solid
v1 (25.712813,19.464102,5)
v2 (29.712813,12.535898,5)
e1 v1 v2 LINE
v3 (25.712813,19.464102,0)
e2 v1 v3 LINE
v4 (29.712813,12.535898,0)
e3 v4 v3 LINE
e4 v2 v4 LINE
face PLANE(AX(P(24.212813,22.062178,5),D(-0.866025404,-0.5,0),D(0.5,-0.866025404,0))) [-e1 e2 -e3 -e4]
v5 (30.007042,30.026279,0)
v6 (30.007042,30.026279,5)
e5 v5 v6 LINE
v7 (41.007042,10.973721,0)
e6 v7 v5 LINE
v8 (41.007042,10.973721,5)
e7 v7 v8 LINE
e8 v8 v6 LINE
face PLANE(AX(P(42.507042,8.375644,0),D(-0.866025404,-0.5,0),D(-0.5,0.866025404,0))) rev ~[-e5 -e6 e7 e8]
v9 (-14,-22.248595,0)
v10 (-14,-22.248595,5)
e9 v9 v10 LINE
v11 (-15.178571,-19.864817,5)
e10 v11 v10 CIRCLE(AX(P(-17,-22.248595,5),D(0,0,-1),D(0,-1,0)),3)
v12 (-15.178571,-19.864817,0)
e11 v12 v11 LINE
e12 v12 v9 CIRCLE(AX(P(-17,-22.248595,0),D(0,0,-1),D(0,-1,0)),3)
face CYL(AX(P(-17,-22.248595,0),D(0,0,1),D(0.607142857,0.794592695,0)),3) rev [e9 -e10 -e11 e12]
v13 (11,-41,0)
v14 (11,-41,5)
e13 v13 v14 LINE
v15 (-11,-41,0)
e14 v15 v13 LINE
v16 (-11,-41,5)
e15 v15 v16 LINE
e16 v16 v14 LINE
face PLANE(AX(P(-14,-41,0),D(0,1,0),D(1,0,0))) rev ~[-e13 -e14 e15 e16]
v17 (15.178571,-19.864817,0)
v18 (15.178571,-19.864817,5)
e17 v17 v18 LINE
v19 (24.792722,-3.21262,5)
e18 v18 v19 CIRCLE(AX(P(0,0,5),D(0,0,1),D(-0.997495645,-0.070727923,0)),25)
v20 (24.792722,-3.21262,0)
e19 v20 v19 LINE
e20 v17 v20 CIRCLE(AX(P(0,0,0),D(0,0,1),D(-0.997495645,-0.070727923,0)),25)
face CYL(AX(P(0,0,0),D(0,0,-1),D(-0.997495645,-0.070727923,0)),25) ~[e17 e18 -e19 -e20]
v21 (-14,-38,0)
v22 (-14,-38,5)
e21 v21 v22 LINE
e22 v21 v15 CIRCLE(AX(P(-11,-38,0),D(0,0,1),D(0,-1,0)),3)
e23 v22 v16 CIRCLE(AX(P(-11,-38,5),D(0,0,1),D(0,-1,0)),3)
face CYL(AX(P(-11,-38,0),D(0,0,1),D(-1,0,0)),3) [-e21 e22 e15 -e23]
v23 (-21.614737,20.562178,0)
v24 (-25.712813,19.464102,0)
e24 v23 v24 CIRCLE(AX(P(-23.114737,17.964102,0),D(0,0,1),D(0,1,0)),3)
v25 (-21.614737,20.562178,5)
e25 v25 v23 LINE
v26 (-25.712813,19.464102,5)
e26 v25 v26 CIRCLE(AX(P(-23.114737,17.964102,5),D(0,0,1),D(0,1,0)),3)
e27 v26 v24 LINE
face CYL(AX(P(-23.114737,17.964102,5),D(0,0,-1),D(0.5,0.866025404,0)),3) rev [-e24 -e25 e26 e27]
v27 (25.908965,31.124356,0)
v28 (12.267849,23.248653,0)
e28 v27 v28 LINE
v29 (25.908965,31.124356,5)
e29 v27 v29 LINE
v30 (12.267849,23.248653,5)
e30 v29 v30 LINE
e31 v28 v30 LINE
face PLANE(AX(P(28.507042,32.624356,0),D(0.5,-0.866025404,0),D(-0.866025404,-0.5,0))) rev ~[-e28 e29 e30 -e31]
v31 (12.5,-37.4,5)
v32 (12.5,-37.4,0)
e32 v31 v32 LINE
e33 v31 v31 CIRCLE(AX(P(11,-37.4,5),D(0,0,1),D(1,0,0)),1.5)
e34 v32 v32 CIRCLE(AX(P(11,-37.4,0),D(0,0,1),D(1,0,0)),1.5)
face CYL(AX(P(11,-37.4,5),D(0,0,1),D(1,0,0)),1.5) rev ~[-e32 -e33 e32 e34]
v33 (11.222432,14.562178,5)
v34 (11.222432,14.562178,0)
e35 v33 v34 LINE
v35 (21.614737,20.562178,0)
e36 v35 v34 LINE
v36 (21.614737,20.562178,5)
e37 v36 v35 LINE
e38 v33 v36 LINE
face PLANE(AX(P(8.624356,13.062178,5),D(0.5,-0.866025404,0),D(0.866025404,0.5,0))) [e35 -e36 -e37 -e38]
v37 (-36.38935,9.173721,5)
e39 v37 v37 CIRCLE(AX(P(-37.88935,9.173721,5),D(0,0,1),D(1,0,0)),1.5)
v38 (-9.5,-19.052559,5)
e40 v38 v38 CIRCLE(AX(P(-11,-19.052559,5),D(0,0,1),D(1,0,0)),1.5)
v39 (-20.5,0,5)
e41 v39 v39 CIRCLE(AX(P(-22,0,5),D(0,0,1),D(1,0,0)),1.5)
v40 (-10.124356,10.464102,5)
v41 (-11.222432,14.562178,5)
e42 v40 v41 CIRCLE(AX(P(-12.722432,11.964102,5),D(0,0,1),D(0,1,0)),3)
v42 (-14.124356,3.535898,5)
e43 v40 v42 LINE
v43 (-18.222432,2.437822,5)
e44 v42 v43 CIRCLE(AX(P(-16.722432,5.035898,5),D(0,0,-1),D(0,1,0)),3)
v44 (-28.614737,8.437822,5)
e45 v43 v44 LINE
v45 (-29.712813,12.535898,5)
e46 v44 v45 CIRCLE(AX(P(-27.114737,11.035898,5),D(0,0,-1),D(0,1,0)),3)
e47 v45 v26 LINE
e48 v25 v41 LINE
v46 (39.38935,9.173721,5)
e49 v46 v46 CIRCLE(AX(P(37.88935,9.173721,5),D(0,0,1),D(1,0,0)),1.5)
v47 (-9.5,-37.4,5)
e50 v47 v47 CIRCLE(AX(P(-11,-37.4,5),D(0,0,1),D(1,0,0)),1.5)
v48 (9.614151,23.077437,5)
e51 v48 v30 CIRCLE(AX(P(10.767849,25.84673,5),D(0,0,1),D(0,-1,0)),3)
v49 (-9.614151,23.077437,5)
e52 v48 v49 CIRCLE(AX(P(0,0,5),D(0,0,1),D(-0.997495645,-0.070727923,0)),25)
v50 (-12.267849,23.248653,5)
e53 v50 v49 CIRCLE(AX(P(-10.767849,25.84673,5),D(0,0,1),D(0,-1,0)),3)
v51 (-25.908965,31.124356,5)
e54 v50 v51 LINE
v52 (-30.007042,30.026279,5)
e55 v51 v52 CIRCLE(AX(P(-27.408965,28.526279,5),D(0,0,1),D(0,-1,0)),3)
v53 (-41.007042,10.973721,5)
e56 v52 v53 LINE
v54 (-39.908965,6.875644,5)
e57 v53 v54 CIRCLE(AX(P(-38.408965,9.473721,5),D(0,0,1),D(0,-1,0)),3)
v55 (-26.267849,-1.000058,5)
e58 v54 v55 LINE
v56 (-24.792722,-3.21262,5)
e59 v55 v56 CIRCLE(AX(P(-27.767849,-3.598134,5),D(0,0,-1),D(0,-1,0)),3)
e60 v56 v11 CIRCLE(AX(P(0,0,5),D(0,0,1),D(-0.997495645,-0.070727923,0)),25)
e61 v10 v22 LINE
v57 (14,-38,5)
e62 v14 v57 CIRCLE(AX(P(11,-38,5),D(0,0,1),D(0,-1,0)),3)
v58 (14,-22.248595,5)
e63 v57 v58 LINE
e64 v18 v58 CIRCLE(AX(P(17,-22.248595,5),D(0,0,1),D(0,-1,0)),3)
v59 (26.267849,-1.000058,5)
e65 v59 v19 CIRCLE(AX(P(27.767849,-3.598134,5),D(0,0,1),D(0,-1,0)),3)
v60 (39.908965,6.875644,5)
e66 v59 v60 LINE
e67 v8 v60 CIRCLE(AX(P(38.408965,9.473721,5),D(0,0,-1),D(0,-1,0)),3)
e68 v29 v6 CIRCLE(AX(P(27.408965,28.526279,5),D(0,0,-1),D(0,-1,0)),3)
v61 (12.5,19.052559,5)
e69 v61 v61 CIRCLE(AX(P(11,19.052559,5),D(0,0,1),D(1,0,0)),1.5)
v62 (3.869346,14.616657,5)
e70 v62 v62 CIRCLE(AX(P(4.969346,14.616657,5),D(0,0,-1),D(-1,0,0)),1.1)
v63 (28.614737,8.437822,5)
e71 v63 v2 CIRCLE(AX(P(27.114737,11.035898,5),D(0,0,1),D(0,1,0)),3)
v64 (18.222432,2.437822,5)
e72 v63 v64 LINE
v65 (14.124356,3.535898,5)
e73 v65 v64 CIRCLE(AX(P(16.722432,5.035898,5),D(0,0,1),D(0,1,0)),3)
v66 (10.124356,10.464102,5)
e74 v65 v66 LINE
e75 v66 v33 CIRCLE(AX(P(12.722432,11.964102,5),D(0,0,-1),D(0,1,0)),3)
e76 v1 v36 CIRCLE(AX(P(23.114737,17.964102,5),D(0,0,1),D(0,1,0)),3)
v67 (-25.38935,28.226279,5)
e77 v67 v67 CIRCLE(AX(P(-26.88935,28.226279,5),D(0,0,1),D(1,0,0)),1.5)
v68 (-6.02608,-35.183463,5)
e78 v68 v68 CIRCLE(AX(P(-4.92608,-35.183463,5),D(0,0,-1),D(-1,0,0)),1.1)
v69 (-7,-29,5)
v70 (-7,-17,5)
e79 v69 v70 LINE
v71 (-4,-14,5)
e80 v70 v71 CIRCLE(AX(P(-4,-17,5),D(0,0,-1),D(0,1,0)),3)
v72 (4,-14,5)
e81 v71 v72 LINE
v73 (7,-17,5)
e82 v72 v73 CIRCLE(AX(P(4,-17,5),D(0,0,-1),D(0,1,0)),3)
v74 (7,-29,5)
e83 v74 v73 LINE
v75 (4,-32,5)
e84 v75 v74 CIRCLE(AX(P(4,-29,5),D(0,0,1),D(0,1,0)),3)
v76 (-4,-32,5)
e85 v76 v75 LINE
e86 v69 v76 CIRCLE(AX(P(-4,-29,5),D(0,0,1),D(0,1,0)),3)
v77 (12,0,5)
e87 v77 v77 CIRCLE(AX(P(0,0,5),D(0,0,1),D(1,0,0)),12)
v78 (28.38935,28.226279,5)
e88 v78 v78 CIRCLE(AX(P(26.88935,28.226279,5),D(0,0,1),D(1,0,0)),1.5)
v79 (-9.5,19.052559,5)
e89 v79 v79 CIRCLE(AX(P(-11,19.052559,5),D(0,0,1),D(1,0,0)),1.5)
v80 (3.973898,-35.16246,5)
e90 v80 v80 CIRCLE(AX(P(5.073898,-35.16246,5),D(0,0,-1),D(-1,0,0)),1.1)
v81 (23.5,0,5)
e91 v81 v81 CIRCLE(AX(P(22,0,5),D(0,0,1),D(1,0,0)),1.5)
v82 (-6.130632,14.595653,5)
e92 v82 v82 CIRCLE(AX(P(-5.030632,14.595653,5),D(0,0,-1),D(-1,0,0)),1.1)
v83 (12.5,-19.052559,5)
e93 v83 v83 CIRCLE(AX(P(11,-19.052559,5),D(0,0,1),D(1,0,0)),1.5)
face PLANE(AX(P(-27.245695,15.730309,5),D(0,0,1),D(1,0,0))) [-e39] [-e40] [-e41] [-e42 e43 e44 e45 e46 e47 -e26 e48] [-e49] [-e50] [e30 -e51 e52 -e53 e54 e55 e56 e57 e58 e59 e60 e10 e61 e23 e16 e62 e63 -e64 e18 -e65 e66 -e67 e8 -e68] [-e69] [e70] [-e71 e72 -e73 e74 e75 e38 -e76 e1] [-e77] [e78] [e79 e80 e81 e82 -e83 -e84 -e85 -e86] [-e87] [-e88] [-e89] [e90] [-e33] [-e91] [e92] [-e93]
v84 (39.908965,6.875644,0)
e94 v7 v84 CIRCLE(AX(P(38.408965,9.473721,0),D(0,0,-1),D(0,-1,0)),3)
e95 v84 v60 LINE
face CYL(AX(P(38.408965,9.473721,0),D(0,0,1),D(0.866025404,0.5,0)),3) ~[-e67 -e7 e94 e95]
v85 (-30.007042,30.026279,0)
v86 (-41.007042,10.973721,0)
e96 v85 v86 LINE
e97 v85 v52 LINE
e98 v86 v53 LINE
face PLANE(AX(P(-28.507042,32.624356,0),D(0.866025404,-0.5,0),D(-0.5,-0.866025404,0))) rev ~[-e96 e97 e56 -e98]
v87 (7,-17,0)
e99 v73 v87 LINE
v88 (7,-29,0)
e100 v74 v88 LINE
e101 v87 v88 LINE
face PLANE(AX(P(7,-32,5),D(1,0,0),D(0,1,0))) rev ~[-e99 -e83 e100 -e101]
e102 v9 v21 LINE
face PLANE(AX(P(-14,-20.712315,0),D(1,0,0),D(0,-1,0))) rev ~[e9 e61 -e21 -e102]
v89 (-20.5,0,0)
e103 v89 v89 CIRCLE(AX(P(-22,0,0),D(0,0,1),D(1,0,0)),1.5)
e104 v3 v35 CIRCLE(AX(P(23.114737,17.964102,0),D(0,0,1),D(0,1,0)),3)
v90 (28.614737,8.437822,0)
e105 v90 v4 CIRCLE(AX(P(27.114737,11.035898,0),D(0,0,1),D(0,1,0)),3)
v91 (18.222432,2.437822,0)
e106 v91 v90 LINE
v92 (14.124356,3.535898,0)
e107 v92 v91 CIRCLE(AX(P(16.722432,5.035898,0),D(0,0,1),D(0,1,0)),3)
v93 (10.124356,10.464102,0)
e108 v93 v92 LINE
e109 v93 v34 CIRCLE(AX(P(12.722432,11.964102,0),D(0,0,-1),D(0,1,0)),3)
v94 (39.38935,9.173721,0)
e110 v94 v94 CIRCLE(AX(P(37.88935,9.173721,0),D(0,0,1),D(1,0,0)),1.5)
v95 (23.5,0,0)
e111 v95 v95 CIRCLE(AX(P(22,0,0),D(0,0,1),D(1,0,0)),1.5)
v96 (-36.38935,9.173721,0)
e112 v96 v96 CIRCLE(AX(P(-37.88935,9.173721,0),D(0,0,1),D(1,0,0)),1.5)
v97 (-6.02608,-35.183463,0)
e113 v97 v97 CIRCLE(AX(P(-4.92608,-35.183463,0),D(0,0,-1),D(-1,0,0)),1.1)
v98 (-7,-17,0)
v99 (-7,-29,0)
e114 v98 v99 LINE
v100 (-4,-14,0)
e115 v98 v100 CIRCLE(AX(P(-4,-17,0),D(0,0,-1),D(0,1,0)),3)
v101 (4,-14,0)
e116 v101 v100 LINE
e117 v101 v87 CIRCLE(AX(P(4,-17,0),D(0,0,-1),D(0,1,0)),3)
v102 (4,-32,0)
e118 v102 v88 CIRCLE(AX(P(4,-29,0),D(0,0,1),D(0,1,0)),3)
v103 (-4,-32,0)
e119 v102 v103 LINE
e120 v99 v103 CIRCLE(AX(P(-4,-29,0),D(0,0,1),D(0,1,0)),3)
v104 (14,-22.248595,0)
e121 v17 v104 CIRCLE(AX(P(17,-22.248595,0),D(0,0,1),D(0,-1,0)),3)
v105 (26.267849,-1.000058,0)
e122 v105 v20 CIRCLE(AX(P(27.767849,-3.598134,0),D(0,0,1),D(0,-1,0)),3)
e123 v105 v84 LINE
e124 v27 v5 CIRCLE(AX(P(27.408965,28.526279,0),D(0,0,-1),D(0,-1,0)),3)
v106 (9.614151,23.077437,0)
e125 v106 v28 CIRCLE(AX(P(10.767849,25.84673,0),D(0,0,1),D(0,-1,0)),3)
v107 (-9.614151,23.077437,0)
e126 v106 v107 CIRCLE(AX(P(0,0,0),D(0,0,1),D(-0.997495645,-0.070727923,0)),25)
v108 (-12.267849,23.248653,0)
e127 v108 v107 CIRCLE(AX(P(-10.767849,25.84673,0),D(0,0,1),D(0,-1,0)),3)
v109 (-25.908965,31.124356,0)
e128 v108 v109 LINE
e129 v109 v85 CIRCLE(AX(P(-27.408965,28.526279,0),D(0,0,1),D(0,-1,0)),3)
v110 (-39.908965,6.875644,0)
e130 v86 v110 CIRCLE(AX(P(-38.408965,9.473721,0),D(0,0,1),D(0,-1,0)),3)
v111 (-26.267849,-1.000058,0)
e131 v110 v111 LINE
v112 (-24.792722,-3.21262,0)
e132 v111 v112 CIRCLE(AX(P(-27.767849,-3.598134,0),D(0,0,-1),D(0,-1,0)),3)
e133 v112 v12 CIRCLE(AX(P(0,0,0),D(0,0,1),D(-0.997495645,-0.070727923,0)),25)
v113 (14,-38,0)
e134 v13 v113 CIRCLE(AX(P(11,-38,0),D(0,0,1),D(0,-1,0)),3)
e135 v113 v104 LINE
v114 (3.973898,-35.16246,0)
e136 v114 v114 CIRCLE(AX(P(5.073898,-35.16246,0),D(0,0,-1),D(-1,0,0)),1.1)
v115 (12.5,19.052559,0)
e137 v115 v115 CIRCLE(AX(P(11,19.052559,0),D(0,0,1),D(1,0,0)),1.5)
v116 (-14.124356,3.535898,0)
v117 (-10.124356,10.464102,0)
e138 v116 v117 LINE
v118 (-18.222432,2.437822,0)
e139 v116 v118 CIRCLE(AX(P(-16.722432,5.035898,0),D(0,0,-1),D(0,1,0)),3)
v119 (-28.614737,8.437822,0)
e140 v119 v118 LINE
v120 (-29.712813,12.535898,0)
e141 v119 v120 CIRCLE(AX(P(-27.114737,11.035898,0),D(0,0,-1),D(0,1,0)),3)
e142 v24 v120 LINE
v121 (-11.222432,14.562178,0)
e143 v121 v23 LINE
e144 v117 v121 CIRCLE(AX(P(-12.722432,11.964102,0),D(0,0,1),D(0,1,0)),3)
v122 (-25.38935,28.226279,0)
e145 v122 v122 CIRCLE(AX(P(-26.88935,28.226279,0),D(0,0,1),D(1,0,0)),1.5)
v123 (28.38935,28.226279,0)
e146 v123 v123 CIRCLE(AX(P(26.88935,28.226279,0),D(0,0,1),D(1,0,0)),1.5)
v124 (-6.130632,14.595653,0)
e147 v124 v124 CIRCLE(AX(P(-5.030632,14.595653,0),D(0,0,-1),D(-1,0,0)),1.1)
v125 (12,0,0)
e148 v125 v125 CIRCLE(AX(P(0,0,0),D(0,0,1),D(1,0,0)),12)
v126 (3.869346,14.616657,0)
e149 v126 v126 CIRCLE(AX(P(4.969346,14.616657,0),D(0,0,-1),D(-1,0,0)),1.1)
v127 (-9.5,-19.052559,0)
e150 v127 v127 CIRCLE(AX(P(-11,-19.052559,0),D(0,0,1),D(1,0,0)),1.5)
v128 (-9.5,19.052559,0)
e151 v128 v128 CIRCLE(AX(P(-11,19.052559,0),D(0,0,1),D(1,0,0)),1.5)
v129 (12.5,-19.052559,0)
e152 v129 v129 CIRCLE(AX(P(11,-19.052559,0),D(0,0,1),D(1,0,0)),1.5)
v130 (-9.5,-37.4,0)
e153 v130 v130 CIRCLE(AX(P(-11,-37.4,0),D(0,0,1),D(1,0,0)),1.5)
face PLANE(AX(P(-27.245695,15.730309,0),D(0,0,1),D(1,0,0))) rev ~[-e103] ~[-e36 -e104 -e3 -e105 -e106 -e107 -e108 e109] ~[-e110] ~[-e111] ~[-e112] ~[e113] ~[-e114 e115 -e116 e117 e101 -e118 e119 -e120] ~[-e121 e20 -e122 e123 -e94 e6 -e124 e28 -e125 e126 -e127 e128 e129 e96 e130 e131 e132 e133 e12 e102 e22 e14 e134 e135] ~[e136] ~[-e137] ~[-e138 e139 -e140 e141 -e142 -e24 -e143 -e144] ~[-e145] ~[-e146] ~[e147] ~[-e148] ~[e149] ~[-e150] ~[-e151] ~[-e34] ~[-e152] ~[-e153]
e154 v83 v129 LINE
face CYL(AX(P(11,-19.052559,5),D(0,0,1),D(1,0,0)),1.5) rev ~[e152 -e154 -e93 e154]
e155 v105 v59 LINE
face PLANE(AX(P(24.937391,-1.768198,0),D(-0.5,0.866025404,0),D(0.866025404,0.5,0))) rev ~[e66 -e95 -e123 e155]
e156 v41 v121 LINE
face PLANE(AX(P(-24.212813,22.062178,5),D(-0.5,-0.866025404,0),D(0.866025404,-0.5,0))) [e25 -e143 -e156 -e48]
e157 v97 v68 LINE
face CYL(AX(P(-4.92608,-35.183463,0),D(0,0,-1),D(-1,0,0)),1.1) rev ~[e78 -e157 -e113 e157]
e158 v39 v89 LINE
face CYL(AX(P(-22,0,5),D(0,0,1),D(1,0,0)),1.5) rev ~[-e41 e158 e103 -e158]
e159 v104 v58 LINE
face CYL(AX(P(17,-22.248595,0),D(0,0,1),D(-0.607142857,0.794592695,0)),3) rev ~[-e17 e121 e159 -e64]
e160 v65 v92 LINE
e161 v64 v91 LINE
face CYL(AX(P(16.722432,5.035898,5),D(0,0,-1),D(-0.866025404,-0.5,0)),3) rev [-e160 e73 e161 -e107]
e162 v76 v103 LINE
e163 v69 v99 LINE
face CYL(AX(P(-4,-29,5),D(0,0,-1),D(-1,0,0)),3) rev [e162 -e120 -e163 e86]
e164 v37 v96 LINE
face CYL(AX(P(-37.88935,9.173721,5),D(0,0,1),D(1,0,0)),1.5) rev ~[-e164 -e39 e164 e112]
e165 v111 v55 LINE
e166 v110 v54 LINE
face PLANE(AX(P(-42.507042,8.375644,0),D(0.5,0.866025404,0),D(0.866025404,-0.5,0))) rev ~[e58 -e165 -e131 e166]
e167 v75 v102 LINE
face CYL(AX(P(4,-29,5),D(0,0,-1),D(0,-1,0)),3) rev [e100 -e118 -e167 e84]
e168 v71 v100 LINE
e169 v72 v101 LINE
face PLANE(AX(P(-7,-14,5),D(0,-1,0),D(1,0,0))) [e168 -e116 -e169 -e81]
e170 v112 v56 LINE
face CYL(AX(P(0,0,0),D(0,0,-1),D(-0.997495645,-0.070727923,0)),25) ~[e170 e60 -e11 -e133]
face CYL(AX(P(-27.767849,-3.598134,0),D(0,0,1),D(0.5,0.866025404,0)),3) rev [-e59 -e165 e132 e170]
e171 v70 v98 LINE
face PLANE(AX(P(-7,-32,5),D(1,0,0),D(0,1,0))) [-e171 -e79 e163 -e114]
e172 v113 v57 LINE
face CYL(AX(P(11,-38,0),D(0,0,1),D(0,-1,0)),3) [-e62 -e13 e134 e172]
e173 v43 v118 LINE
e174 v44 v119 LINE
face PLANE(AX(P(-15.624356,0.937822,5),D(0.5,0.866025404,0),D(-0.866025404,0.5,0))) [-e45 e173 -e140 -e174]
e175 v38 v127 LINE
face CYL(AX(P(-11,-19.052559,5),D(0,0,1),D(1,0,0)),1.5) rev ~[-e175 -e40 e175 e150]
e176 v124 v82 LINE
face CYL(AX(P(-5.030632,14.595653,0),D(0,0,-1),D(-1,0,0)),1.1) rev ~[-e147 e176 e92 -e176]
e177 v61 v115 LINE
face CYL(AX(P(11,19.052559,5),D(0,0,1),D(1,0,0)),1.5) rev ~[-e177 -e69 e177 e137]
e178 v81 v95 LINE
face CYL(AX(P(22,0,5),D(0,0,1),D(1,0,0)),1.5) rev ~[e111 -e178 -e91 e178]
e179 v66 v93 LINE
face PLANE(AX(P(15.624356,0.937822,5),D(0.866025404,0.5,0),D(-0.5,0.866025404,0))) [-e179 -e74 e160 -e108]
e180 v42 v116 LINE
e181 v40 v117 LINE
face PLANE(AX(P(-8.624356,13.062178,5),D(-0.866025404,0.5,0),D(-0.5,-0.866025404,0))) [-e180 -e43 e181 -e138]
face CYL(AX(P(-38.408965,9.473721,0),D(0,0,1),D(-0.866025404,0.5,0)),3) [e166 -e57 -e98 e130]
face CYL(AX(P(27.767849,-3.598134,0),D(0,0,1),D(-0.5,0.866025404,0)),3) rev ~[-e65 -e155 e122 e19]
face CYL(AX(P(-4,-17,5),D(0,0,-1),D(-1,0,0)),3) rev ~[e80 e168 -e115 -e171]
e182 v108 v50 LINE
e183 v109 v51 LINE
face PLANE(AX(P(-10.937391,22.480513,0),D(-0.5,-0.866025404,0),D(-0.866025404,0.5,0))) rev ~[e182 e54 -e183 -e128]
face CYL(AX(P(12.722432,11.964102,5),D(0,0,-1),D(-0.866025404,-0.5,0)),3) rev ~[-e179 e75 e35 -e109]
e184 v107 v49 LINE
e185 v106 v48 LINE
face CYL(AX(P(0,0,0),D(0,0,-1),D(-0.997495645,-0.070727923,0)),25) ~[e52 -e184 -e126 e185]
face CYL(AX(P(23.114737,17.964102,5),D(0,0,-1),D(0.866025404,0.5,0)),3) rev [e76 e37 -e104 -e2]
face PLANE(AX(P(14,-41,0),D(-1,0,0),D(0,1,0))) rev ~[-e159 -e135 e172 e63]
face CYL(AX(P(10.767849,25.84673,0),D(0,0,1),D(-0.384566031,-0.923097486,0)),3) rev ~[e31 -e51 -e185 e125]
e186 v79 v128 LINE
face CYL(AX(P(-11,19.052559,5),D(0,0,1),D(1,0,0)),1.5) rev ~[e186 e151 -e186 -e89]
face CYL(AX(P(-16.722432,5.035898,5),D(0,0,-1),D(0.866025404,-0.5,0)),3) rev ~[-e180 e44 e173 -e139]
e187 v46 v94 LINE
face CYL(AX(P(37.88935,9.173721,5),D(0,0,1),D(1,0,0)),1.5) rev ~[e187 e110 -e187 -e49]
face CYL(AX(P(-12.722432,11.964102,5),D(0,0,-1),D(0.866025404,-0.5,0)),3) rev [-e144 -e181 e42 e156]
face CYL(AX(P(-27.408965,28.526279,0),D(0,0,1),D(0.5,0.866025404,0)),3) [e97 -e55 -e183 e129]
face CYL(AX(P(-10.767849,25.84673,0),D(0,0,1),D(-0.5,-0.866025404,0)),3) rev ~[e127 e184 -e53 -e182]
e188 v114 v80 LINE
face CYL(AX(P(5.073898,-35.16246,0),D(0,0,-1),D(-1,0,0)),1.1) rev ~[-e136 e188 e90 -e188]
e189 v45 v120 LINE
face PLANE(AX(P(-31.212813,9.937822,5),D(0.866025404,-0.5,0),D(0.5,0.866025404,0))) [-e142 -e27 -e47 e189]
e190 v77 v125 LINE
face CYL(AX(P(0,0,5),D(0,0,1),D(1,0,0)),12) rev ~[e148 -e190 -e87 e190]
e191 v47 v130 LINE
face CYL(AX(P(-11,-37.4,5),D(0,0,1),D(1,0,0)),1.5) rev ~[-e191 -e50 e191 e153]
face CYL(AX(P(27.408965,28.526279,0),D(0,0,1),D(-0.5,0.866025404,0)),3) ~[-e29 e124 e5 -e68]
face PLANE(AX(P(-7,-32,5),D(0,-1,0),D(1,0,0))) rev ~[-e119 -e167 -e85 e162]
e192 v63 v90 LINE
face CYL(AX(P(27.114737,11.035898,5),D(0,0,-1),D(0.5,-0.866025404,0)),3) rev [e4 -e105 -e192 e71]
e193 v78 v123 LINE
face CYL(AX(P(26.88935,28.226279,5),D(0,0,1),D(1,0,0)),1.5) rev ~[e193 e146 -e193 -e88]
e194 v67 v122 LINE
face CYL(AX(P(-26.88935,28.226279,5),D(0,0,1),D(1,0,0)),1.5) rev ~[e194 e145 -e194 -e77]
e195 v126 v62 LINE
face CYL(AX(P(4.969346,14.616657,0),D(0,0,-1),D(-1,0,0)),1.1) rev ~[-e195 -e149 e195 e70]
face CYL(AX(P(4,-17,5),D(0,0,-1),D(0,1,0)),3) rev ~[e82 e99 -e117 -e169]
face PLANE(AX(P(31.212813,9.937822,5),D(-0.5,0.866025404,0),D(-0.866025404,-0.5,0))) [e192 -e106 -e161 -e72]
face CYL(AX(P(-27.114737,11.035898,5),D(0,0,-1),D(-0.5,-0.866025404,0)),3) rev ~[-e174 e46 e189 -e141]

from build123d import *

# Parameters (mm, degrees)
SKETCH1_R           = 25
BOSS_EXTRUDE1_DEPTH = 5
CUT_EXTRUDE1_REACH  = 61.269
SKETCH2_R           = 1.5
FILLET1_R           = 3
CUT_EXTRUDE2_REACH  = 60.487
SKETCH3_R           = 1.1
CUT_EXTRUDE3_REACH  = 60.487
SKETCH4_R           = 1.5
FILLET2_R           = 3
CUT_EXTRUDE4_REACH  = 60.487
SKETCH5_R           = 12
SKETCH5_W           = 14
SKETCH5_H           = 18
FILLET3_R           = 3


with BuildPart() as part:
    # Sketch1 → Boss-Extrude1 (new body)
    with BuildSketch(Plane.XY):
        with BuildLine():
            ThreePointArc((-24.937391115, -1.768198064), (-21.650635095, 12.5), (-10.937391115, 22.480513242))
            Line((-10.937391115, 22.480513242), (-28.507041555, 32.624355653))
            Line((-28.507041555, 32.624355653), (-42.507041555, 8.375644347))
            Line((-42.507041555, 8.375644347), (-24.937391115, -1.768198064))
        make_face()
        Circle(SKETCH1_R)
        with BuildLine():
            Line((28.507041555, 32.624355653), (10.937391115, 22.480513242))
            ThreePointArc((10.937391115, 22.480513242), (21.194749089, 13.258303476), (25, 0))
            ThreePointArc((25, 0), (24.984342876, -0.884653077), (24.937391115, -1.768198064))
            Line((24.937391115, -1.768198064), (42.507041555, 8.375644347))
            Line((42.507041555, 8.375644347), (28.507041555, 32.624355653))
        make_face()
        with BuildLine():
            ThreePointArc((14, -20.712315177), (0, -25), (-14, -20.712315177))
            Line((-14, -20.712315177), (-14, -41))
            Line((-14, -41), (14, -41))
            Line((14, -41), (14, -20.712315177))
        make_face()
    extrude(amount=BOSS_EXTRUDE1_DEPTH)

    # Sketch2 → Cut-Extrude1 (cut, up to next)
    with BuildSketch(Plane.XY.offset(5), mode=Mode.PRIVATE) as cut_extrude1_sk1:
        with Locations((11, -37.4)):
            Circle(SKETCH2_R)
    cut_extrude1_tool1 = extrude(cut_extrude1_sk1.sketch, amount=-CUT_EXTRUDE1_REACH, mode=Mode.PRIVATE) & part.part
    # Sketch2 → Cut-Extrude1 (cut, up to next)
    with BuildSketch(Plane.XY.offset(5), mode=Mode.PRIVATE) as cut_extrude1_sk2:
        with Locations((-11, -37.4)):
            Circle(SKETCH2_R)
    cut_extrude1_tool2 = extrude(cut_extrude1_sk2.sketch, amount=-CUT_EXTRUDE1_REACH, mode=Mode.PRIVATE) & part.part
    # Sketch2 → Cut-Extrude1 (cut, up to next)
    with BuildSketch(Plane.XY.offset(5), mode=Mode.PRIVATE) as cut_extrude1_sk3:
        with Locations((-37.889350102, 9.173720558)):
            Circle(SKETCH2_R)
    cut_extrude1_tool3 = extrude(cut_extrude1_sk3.sketch, amount=-CUT_EXTRUDE1_REACH, mode=Mode.PRIVATE) & part.part
    # Sketch2 → Cut-Extrude1 (cut, up to next)
    with BuildSketch(Plane.XY.offset(5), mode=Mode.PRIVATE) as cut_extrude1_sk4:
        with Locations((-26.889350102, 28.226279442)):
            Circle(SKETCH2_R)
    cut_extrude1_tool4 = extrude(cut_extrude1_sk4.sketch, amount=-CUT_EXTRUDE1_REACH, mode=Mode.PRIVATE) & part.part
    # Sketch2 → Cut-Extrude1 (cut, up to next)
    with BuildSketch(Plane.XY.offset(5), mode=Mode.PRIVATE) as cut_extrude1_sk5:
        with Locations((26.889350102, 28.226279442)):
            Circle(SKETCH2_R)
    cut_extrude1_tool5 = extrude(cut_extrude1_sk5.sketch, amount=-CUT_EXTRUDE1_REACH, mode=Mode.PRIVATE) & part.part
    # Sketch2 → Cut-Extrude1 (cut, up to next)
    with BuildSketch(Plane.XY.offset(5), mode=Mode.PRIVATE) as cut_extrude1_sk6:
        with Locations((37.889350102, 9.173720558)):
            Circle(SKETCH2_R)
    cut_extrude1_tool6 = extrude(cut_extrude1_sk6.sketch, amount=-CUT_EXTRUDE1_REACH, mode=Mode.PRIVATE) & part.part
    add(cut_extrude1_tool1.solids().sort_by_distance((11, -37.4, 5))[0], mode=Mode.SUBTRACT)
    add(cut_extrude1_tool2.solids().sort_by_distance((-11, -37.4, 5))[0], mode=Mode.SUBTRACT)
    add(cut_extrude1_tool3.solids().sort_by_distance((-37.88935, 9.173721, 5))[0], mode=Mode.SUBTRACT)
    add(cut_extrude1_tool4.solids().sort_by_distance((-26.88935, 28.226279, 5))[0], mode=Mode.SUBTRACT)
    add(cut_extrude1_tool5.solids().sort_by_distance((26.88935, 28.226279, 5))[0], mode=Mode.SUBTRACT)
    add(cut_extrude1_tool6.solids().sort_by_distance((37.88935, 9.173721, 5))[0], mode=Mode.SUBTRACT)

    # Fillet1
    fillet1_edges = [part.edges().sort_by_distance(p)[0] for p in [
        (-42.507041555, 8.375644347, 2.5),
        (-28.507041555, 32.624355653, 2.5),
        (28.507041555, 32.624355653, 2.5),
        (42.507041555, 8.375644347, 2.5),
        (14, -41, 2.5),
        (-14, -41, 2.5),
    ]]
    fillet(fillet1_edges, radius=FILLET1_R)

    # Sketch3 → Cut-Extrude2 (cut, up to next)
    with BuildSketch(Plane(origin=(0, 0, 0), x_dir=(-1, 0, 0), z_dir=(0, 0, -1)), mode=Mode.PRIVATE) as cut_extrude2_sk1:
        with Locations((5.030631655, 14.595653448)):
            Circle(SKETCH3_R)
    cut_extrude2_tool1 = extrude(cut_extrude2_sk1.sketch, amount=-CUT_EXTRUDE2_REACH, mode=Mode.PRIVATE) & part.part
    # Sketch3 → Cut-Extrude2 (cut, up to next)
    with BuildSketch(Plane(origin=(0, 0, 0), x_dir=(-1, 0, 0), z_dir=(0, 0, -1)), mode=Mode.PRIVATE) as cut_extrude2_sk2:
        with Locations((-4.969346288, 14.61665653)):
            Circle(SKETCH3_R)
    cut_extrude2_tool2 = extrude(cut_extrude2_sk2.sketch, amount=-CUT_EXTRUDE2_REACH, mode=Mode.PRIVATE) & part.part
    # Sketch3 → Cut-Extrude2 (cut, up to next)
    with BuildSketch(Plane(origin=(0, 0, 0), x_dir=(-1, 0, 0), z_dir=(0, 0, -1)), mode=Mode.PRIVATE) as cut_extrude2_sk3:
        with Locations((4.926079941, -35.183463358)):
            Circle(SKETCH3_R)
    cut_extrude2_tool3 = extrude(cut_extrude2_sk3.sketch, amount=-CUT_EXTRUDE2_REACH, mode=Mode.PRIVATE) & part.part
    # Sketch3 → Cut-Extrude2 (cut, up to next)
    with BuildSketch(Plane(origin=(0, 0, 0), x_dir=(-1, 0, 0), z_dir=(0, 0, -1)), mode=Mode.PRIVATE) as cut_extrude2_sk4:
        with Locations((-5.073898003, -35.162460277)):
            Circle(SKETCH3_R)
    cut_extrude2_tool4 = extrude(cut_extrude2_sk4.sketch, amount=-CUT_EXTRUDE2_REACH, mode=Mode.PRIVATE) & part.part
    add(cut_extrude2_tool1.solids().sort_by_distance((-5.030632, 14.595653, 0))[0], mode=Mode.SUBTRACT)
    add(cut_extrude2_tool2.solids().sort_by_distance((4.969346, 14.616657, 0))[0], mode=Mode.SUBTRACT)
    add(cut_extrude2_tool3.solids().sort_by_distance((-4.92608, -35.183463, 0))[0], mode=Mode.SUBTRACT)
    add(cut_extrude2_tool4.solids().sort_by_distance((5.073898, -35.16246, 0))[0], mode=Mode.SUBTRACT)

    # Sketch4 → Cut-Extrude3 (cut, up to next)
    with BuildSketch(Plane.XY.offset(5), mode=Mode.PRIVATE) as cut_extrude3_sk1:
        with Locations((22, 0)):
            Circle(SKETCH4_R)
    cut_extrude3_tool1 = extrude(cut_extrude3_sk1.sketch, amount=-CUT_EXTRUDE3_REACH, mode=Mode.PRIVATE) & part.part
    # Sketch4 → Cut-Extrude3 (cut, up to next)
    with BuildSketch(Plane.XY.offset(5), mode=Mode.PRIVATE) as cut_extrude3_sk2:
        with Locations((11, -19.052558883)):
            Circle(SKETCH4_R)
    cut_extrude3_tool2 = extrude(cut_extrude3_sk2.sketch, amount=-CUT_EXTRUDE3_REACH, mode=Mode.PRIVATE) & part.part
    # Sketch4 → Cut-Extrude3 (cut, up to next)
    with BuildSketch(Plane.XY.offset(5), mode=Mode.PRIVATE) as cut_extrude3_sk3:
        with Locations((-11, -19.052558883)):
            Circle(SKETCH4_R)
    cut_extrude3_tool3 = extrude(cut_extrude3_sk3.sketch, amount=-CUT_EXTRUDE3_REACH, mode=Mode.PRIVATE) & part.part
    # Sketch4 → Cut-Extrude3 (cut, up to next)
    with BuildSketch(Plane.XY.offset(5), mode=Mode.PRIVATE) as cut_extrude3_sk4:
        with Locations((-22, 0)):
            Circle(SKETCH4_R)
    cut_extrude3_tool4 = extrude(cut_extrude3_sk4.sketch, amount=-CUT_EXTRUDE3_REACH, mode=Mode.PRIVATE) & part.part
    # Sketch4 → Cut-Extrude3 (cut, up to next)
    with BuildSketch(Plane.XY.offset(5), mode=Mode.PRIVATE) as cut_extrude3_sk5:
        with Locations((-11, 19.052558883)):
            Circle(SKETCH4_R)
    cut_extrude3_tool5 = extrude(cut_extrude3_sk5.sketch, amount=-CUT_EXTRUDE3_REACH, mode=Mode.PRIVATE) & part.part
    # Sketch4 → Cut-Extrude3 (cut, up to next)
    with BuildSketch(Plane.XY.offset(5), mode=Mode.PRIVATE) as cut_extrude3_sk6:
        with Locations((11, 19.052558883)):
            Circle(SKETCH4_R)
    cut_extrude3_tool6 = extrude(cut_extrude3_sk6.sketch, amount=-CUT_EXTRUDE3_REACH, mode=Mode.PRIVATE) & part.part
    add(cut_extrude3_tool1.solids().sort_by_distance((22, 0, 5))[0], mode=Mode.SUBTRACT)
    add(cut_extrude3_tool2.solids().sort_by_distance((11, -19.052559, 5))[0], mode=Mode.SUBTRACT)
    add(cut_extrude3_tool3.solids().sort_by_distance((-11, -19.052559, 5))[0], mode=Mode.SUBTRACT)
    add(cut_extrude3_tool4.solids().sort_by_distance((-22, 0, 5))[0], mode=Mode.SUBTRACT)
    add(cut_extrude3_tool5.solids().sort_by_distance((-11, 19.052559, 5))[0], mode=Mode.SUBTRACT)
    add(cut_extrude3_tool6.solids().sort_by_distance((11, 19.052559, 5))[0], mode=Mode.SUBTRACT)

    # Fillet2
    fillet2_edges = [part.edges().sort_by_distance(p)[0] for p in [
        (-10.937391115, 22.480513242, 2.5),
        (10.937391115, 22.480513242, 2.5),
        (24.937391115, -1.768198064, 2.5),
        (14, -20.712315177, 2.5),
        (-14, -20.712315177, 2.5),
        (-24.937391115, -1.768198064, 2.5),
    ]]
    fillet(fillet2_edges, radius=FILLET2_R)

    # Sketch5 → Cut-Extrude4 (cut, up to next)
    with BuildSketch(Plane.XY.offset(5), mode=Mode.PRIVATE) as cut_extrude4_sk1:
        Circle(SKETCH5_R)
    cut_extrude4_tool1 = extrude(cut_extrude4_sk1.sketch, amount=-CUT_EXTRUDE4_REACH, mode=Mode.PRIVATE) & part.part
    # Sketch5 → Cut-Extrude4 (cut, up to next)
    with BuildSketch(Plane.XY.offset(5), mode=Mode.PRIVATE) as cut_extrude4_sk2:
        Polygon((-8.624355653, 13.062177826), (-15.624355653, 0.937822174), (-31.212812921, 9.937822174), (-24.212812921, 22.062177826), align=None)
    cut_extrude4_tool2 = extrude(cut_extrude4_sk2.sketch, amount=-CUT_EXTRUDE4_REACH, mode=Mode.PRIVATE) & part.part
    # Sketch5 → Cut-Extrude4 (cut, up to next)
    with BuildSketch(Plane.XY.offset(5), mode=Mode.PRIVATE) as cut_extrude4_sk3:
        with Locations((0, -23)):
            Rectangle(SKETCH5_W, SKETCH5_H)
    cut_extrude4_tool3 = extrude(cut_extrude4_sk3.sketch, amount=-CUT_EXTRUDE4_REACH, mode=Mode.PRIVATE) & part.part
    # Sketch5 → Cut-Extrude4 (cut, up to next)
    with BuildSketch(Plane.XY.offset(5), mode=Mode.PRIVATE) as cut_extrude4_sk4:
        Polygon((15.624355653, 0.937822174), (8.624355653, 13.062177826), (24.212812921, 22.062177826), (31.212812921, 9.937822174), align=None)
    cut_extrude4_tool4 = extrude(cut_extrude4_sk4.sketch, amount=-CUT_EXTRUDE4_REACH, mode=Mode.PRIVATE) & part.part
    add(cut_extrude4_tool1.solids().sort_by_distance((0, 0, 5))[0], mode=Mode.SUBTRACT)
    add(cut_extrude4_tool2.solids().sort_by_distance((-19.918584, 11.5, 5))[0], mode=Mode.SUBTRACT)
    add(cut_extrude4_tool3.solids().sort_by_distance((0, -23, 5))[0], mode=Mode.SUBTRACT)
    add(cut_extrude4_tool4.solids().sort_by_distance((19.918584, 11.5, 5))[0], mode=Mode.SUBTRACT)

    # Fillet3
    fillet3_edges = [part.edges().sort_by_distance(p)[0] for p in [
        (8.624355653, 13.062177826, 2.5),
        (24.212812921, 22.062177826, 2.5),
        (31.212812921, 9.937822174, 2.5),
        (15.624355653, 0.937822174, 2.5),
        (-15.624355653, 0.937822174, 2.5),
        (-31.212812921, 9.937822174, 2.5),
        (-24.212812921, 22.062177826, 2.5),
        (-8.624355653, 13.062177826, 2.5),
        (7, -14, 2.5),
        (7, -32, 2.5),
        (-7, -32, 2.5),
        (-7, -14, 2.5),
    ]]
    fillet(fillet3_edges, radius=FILLET3_R)


solid = part.part
